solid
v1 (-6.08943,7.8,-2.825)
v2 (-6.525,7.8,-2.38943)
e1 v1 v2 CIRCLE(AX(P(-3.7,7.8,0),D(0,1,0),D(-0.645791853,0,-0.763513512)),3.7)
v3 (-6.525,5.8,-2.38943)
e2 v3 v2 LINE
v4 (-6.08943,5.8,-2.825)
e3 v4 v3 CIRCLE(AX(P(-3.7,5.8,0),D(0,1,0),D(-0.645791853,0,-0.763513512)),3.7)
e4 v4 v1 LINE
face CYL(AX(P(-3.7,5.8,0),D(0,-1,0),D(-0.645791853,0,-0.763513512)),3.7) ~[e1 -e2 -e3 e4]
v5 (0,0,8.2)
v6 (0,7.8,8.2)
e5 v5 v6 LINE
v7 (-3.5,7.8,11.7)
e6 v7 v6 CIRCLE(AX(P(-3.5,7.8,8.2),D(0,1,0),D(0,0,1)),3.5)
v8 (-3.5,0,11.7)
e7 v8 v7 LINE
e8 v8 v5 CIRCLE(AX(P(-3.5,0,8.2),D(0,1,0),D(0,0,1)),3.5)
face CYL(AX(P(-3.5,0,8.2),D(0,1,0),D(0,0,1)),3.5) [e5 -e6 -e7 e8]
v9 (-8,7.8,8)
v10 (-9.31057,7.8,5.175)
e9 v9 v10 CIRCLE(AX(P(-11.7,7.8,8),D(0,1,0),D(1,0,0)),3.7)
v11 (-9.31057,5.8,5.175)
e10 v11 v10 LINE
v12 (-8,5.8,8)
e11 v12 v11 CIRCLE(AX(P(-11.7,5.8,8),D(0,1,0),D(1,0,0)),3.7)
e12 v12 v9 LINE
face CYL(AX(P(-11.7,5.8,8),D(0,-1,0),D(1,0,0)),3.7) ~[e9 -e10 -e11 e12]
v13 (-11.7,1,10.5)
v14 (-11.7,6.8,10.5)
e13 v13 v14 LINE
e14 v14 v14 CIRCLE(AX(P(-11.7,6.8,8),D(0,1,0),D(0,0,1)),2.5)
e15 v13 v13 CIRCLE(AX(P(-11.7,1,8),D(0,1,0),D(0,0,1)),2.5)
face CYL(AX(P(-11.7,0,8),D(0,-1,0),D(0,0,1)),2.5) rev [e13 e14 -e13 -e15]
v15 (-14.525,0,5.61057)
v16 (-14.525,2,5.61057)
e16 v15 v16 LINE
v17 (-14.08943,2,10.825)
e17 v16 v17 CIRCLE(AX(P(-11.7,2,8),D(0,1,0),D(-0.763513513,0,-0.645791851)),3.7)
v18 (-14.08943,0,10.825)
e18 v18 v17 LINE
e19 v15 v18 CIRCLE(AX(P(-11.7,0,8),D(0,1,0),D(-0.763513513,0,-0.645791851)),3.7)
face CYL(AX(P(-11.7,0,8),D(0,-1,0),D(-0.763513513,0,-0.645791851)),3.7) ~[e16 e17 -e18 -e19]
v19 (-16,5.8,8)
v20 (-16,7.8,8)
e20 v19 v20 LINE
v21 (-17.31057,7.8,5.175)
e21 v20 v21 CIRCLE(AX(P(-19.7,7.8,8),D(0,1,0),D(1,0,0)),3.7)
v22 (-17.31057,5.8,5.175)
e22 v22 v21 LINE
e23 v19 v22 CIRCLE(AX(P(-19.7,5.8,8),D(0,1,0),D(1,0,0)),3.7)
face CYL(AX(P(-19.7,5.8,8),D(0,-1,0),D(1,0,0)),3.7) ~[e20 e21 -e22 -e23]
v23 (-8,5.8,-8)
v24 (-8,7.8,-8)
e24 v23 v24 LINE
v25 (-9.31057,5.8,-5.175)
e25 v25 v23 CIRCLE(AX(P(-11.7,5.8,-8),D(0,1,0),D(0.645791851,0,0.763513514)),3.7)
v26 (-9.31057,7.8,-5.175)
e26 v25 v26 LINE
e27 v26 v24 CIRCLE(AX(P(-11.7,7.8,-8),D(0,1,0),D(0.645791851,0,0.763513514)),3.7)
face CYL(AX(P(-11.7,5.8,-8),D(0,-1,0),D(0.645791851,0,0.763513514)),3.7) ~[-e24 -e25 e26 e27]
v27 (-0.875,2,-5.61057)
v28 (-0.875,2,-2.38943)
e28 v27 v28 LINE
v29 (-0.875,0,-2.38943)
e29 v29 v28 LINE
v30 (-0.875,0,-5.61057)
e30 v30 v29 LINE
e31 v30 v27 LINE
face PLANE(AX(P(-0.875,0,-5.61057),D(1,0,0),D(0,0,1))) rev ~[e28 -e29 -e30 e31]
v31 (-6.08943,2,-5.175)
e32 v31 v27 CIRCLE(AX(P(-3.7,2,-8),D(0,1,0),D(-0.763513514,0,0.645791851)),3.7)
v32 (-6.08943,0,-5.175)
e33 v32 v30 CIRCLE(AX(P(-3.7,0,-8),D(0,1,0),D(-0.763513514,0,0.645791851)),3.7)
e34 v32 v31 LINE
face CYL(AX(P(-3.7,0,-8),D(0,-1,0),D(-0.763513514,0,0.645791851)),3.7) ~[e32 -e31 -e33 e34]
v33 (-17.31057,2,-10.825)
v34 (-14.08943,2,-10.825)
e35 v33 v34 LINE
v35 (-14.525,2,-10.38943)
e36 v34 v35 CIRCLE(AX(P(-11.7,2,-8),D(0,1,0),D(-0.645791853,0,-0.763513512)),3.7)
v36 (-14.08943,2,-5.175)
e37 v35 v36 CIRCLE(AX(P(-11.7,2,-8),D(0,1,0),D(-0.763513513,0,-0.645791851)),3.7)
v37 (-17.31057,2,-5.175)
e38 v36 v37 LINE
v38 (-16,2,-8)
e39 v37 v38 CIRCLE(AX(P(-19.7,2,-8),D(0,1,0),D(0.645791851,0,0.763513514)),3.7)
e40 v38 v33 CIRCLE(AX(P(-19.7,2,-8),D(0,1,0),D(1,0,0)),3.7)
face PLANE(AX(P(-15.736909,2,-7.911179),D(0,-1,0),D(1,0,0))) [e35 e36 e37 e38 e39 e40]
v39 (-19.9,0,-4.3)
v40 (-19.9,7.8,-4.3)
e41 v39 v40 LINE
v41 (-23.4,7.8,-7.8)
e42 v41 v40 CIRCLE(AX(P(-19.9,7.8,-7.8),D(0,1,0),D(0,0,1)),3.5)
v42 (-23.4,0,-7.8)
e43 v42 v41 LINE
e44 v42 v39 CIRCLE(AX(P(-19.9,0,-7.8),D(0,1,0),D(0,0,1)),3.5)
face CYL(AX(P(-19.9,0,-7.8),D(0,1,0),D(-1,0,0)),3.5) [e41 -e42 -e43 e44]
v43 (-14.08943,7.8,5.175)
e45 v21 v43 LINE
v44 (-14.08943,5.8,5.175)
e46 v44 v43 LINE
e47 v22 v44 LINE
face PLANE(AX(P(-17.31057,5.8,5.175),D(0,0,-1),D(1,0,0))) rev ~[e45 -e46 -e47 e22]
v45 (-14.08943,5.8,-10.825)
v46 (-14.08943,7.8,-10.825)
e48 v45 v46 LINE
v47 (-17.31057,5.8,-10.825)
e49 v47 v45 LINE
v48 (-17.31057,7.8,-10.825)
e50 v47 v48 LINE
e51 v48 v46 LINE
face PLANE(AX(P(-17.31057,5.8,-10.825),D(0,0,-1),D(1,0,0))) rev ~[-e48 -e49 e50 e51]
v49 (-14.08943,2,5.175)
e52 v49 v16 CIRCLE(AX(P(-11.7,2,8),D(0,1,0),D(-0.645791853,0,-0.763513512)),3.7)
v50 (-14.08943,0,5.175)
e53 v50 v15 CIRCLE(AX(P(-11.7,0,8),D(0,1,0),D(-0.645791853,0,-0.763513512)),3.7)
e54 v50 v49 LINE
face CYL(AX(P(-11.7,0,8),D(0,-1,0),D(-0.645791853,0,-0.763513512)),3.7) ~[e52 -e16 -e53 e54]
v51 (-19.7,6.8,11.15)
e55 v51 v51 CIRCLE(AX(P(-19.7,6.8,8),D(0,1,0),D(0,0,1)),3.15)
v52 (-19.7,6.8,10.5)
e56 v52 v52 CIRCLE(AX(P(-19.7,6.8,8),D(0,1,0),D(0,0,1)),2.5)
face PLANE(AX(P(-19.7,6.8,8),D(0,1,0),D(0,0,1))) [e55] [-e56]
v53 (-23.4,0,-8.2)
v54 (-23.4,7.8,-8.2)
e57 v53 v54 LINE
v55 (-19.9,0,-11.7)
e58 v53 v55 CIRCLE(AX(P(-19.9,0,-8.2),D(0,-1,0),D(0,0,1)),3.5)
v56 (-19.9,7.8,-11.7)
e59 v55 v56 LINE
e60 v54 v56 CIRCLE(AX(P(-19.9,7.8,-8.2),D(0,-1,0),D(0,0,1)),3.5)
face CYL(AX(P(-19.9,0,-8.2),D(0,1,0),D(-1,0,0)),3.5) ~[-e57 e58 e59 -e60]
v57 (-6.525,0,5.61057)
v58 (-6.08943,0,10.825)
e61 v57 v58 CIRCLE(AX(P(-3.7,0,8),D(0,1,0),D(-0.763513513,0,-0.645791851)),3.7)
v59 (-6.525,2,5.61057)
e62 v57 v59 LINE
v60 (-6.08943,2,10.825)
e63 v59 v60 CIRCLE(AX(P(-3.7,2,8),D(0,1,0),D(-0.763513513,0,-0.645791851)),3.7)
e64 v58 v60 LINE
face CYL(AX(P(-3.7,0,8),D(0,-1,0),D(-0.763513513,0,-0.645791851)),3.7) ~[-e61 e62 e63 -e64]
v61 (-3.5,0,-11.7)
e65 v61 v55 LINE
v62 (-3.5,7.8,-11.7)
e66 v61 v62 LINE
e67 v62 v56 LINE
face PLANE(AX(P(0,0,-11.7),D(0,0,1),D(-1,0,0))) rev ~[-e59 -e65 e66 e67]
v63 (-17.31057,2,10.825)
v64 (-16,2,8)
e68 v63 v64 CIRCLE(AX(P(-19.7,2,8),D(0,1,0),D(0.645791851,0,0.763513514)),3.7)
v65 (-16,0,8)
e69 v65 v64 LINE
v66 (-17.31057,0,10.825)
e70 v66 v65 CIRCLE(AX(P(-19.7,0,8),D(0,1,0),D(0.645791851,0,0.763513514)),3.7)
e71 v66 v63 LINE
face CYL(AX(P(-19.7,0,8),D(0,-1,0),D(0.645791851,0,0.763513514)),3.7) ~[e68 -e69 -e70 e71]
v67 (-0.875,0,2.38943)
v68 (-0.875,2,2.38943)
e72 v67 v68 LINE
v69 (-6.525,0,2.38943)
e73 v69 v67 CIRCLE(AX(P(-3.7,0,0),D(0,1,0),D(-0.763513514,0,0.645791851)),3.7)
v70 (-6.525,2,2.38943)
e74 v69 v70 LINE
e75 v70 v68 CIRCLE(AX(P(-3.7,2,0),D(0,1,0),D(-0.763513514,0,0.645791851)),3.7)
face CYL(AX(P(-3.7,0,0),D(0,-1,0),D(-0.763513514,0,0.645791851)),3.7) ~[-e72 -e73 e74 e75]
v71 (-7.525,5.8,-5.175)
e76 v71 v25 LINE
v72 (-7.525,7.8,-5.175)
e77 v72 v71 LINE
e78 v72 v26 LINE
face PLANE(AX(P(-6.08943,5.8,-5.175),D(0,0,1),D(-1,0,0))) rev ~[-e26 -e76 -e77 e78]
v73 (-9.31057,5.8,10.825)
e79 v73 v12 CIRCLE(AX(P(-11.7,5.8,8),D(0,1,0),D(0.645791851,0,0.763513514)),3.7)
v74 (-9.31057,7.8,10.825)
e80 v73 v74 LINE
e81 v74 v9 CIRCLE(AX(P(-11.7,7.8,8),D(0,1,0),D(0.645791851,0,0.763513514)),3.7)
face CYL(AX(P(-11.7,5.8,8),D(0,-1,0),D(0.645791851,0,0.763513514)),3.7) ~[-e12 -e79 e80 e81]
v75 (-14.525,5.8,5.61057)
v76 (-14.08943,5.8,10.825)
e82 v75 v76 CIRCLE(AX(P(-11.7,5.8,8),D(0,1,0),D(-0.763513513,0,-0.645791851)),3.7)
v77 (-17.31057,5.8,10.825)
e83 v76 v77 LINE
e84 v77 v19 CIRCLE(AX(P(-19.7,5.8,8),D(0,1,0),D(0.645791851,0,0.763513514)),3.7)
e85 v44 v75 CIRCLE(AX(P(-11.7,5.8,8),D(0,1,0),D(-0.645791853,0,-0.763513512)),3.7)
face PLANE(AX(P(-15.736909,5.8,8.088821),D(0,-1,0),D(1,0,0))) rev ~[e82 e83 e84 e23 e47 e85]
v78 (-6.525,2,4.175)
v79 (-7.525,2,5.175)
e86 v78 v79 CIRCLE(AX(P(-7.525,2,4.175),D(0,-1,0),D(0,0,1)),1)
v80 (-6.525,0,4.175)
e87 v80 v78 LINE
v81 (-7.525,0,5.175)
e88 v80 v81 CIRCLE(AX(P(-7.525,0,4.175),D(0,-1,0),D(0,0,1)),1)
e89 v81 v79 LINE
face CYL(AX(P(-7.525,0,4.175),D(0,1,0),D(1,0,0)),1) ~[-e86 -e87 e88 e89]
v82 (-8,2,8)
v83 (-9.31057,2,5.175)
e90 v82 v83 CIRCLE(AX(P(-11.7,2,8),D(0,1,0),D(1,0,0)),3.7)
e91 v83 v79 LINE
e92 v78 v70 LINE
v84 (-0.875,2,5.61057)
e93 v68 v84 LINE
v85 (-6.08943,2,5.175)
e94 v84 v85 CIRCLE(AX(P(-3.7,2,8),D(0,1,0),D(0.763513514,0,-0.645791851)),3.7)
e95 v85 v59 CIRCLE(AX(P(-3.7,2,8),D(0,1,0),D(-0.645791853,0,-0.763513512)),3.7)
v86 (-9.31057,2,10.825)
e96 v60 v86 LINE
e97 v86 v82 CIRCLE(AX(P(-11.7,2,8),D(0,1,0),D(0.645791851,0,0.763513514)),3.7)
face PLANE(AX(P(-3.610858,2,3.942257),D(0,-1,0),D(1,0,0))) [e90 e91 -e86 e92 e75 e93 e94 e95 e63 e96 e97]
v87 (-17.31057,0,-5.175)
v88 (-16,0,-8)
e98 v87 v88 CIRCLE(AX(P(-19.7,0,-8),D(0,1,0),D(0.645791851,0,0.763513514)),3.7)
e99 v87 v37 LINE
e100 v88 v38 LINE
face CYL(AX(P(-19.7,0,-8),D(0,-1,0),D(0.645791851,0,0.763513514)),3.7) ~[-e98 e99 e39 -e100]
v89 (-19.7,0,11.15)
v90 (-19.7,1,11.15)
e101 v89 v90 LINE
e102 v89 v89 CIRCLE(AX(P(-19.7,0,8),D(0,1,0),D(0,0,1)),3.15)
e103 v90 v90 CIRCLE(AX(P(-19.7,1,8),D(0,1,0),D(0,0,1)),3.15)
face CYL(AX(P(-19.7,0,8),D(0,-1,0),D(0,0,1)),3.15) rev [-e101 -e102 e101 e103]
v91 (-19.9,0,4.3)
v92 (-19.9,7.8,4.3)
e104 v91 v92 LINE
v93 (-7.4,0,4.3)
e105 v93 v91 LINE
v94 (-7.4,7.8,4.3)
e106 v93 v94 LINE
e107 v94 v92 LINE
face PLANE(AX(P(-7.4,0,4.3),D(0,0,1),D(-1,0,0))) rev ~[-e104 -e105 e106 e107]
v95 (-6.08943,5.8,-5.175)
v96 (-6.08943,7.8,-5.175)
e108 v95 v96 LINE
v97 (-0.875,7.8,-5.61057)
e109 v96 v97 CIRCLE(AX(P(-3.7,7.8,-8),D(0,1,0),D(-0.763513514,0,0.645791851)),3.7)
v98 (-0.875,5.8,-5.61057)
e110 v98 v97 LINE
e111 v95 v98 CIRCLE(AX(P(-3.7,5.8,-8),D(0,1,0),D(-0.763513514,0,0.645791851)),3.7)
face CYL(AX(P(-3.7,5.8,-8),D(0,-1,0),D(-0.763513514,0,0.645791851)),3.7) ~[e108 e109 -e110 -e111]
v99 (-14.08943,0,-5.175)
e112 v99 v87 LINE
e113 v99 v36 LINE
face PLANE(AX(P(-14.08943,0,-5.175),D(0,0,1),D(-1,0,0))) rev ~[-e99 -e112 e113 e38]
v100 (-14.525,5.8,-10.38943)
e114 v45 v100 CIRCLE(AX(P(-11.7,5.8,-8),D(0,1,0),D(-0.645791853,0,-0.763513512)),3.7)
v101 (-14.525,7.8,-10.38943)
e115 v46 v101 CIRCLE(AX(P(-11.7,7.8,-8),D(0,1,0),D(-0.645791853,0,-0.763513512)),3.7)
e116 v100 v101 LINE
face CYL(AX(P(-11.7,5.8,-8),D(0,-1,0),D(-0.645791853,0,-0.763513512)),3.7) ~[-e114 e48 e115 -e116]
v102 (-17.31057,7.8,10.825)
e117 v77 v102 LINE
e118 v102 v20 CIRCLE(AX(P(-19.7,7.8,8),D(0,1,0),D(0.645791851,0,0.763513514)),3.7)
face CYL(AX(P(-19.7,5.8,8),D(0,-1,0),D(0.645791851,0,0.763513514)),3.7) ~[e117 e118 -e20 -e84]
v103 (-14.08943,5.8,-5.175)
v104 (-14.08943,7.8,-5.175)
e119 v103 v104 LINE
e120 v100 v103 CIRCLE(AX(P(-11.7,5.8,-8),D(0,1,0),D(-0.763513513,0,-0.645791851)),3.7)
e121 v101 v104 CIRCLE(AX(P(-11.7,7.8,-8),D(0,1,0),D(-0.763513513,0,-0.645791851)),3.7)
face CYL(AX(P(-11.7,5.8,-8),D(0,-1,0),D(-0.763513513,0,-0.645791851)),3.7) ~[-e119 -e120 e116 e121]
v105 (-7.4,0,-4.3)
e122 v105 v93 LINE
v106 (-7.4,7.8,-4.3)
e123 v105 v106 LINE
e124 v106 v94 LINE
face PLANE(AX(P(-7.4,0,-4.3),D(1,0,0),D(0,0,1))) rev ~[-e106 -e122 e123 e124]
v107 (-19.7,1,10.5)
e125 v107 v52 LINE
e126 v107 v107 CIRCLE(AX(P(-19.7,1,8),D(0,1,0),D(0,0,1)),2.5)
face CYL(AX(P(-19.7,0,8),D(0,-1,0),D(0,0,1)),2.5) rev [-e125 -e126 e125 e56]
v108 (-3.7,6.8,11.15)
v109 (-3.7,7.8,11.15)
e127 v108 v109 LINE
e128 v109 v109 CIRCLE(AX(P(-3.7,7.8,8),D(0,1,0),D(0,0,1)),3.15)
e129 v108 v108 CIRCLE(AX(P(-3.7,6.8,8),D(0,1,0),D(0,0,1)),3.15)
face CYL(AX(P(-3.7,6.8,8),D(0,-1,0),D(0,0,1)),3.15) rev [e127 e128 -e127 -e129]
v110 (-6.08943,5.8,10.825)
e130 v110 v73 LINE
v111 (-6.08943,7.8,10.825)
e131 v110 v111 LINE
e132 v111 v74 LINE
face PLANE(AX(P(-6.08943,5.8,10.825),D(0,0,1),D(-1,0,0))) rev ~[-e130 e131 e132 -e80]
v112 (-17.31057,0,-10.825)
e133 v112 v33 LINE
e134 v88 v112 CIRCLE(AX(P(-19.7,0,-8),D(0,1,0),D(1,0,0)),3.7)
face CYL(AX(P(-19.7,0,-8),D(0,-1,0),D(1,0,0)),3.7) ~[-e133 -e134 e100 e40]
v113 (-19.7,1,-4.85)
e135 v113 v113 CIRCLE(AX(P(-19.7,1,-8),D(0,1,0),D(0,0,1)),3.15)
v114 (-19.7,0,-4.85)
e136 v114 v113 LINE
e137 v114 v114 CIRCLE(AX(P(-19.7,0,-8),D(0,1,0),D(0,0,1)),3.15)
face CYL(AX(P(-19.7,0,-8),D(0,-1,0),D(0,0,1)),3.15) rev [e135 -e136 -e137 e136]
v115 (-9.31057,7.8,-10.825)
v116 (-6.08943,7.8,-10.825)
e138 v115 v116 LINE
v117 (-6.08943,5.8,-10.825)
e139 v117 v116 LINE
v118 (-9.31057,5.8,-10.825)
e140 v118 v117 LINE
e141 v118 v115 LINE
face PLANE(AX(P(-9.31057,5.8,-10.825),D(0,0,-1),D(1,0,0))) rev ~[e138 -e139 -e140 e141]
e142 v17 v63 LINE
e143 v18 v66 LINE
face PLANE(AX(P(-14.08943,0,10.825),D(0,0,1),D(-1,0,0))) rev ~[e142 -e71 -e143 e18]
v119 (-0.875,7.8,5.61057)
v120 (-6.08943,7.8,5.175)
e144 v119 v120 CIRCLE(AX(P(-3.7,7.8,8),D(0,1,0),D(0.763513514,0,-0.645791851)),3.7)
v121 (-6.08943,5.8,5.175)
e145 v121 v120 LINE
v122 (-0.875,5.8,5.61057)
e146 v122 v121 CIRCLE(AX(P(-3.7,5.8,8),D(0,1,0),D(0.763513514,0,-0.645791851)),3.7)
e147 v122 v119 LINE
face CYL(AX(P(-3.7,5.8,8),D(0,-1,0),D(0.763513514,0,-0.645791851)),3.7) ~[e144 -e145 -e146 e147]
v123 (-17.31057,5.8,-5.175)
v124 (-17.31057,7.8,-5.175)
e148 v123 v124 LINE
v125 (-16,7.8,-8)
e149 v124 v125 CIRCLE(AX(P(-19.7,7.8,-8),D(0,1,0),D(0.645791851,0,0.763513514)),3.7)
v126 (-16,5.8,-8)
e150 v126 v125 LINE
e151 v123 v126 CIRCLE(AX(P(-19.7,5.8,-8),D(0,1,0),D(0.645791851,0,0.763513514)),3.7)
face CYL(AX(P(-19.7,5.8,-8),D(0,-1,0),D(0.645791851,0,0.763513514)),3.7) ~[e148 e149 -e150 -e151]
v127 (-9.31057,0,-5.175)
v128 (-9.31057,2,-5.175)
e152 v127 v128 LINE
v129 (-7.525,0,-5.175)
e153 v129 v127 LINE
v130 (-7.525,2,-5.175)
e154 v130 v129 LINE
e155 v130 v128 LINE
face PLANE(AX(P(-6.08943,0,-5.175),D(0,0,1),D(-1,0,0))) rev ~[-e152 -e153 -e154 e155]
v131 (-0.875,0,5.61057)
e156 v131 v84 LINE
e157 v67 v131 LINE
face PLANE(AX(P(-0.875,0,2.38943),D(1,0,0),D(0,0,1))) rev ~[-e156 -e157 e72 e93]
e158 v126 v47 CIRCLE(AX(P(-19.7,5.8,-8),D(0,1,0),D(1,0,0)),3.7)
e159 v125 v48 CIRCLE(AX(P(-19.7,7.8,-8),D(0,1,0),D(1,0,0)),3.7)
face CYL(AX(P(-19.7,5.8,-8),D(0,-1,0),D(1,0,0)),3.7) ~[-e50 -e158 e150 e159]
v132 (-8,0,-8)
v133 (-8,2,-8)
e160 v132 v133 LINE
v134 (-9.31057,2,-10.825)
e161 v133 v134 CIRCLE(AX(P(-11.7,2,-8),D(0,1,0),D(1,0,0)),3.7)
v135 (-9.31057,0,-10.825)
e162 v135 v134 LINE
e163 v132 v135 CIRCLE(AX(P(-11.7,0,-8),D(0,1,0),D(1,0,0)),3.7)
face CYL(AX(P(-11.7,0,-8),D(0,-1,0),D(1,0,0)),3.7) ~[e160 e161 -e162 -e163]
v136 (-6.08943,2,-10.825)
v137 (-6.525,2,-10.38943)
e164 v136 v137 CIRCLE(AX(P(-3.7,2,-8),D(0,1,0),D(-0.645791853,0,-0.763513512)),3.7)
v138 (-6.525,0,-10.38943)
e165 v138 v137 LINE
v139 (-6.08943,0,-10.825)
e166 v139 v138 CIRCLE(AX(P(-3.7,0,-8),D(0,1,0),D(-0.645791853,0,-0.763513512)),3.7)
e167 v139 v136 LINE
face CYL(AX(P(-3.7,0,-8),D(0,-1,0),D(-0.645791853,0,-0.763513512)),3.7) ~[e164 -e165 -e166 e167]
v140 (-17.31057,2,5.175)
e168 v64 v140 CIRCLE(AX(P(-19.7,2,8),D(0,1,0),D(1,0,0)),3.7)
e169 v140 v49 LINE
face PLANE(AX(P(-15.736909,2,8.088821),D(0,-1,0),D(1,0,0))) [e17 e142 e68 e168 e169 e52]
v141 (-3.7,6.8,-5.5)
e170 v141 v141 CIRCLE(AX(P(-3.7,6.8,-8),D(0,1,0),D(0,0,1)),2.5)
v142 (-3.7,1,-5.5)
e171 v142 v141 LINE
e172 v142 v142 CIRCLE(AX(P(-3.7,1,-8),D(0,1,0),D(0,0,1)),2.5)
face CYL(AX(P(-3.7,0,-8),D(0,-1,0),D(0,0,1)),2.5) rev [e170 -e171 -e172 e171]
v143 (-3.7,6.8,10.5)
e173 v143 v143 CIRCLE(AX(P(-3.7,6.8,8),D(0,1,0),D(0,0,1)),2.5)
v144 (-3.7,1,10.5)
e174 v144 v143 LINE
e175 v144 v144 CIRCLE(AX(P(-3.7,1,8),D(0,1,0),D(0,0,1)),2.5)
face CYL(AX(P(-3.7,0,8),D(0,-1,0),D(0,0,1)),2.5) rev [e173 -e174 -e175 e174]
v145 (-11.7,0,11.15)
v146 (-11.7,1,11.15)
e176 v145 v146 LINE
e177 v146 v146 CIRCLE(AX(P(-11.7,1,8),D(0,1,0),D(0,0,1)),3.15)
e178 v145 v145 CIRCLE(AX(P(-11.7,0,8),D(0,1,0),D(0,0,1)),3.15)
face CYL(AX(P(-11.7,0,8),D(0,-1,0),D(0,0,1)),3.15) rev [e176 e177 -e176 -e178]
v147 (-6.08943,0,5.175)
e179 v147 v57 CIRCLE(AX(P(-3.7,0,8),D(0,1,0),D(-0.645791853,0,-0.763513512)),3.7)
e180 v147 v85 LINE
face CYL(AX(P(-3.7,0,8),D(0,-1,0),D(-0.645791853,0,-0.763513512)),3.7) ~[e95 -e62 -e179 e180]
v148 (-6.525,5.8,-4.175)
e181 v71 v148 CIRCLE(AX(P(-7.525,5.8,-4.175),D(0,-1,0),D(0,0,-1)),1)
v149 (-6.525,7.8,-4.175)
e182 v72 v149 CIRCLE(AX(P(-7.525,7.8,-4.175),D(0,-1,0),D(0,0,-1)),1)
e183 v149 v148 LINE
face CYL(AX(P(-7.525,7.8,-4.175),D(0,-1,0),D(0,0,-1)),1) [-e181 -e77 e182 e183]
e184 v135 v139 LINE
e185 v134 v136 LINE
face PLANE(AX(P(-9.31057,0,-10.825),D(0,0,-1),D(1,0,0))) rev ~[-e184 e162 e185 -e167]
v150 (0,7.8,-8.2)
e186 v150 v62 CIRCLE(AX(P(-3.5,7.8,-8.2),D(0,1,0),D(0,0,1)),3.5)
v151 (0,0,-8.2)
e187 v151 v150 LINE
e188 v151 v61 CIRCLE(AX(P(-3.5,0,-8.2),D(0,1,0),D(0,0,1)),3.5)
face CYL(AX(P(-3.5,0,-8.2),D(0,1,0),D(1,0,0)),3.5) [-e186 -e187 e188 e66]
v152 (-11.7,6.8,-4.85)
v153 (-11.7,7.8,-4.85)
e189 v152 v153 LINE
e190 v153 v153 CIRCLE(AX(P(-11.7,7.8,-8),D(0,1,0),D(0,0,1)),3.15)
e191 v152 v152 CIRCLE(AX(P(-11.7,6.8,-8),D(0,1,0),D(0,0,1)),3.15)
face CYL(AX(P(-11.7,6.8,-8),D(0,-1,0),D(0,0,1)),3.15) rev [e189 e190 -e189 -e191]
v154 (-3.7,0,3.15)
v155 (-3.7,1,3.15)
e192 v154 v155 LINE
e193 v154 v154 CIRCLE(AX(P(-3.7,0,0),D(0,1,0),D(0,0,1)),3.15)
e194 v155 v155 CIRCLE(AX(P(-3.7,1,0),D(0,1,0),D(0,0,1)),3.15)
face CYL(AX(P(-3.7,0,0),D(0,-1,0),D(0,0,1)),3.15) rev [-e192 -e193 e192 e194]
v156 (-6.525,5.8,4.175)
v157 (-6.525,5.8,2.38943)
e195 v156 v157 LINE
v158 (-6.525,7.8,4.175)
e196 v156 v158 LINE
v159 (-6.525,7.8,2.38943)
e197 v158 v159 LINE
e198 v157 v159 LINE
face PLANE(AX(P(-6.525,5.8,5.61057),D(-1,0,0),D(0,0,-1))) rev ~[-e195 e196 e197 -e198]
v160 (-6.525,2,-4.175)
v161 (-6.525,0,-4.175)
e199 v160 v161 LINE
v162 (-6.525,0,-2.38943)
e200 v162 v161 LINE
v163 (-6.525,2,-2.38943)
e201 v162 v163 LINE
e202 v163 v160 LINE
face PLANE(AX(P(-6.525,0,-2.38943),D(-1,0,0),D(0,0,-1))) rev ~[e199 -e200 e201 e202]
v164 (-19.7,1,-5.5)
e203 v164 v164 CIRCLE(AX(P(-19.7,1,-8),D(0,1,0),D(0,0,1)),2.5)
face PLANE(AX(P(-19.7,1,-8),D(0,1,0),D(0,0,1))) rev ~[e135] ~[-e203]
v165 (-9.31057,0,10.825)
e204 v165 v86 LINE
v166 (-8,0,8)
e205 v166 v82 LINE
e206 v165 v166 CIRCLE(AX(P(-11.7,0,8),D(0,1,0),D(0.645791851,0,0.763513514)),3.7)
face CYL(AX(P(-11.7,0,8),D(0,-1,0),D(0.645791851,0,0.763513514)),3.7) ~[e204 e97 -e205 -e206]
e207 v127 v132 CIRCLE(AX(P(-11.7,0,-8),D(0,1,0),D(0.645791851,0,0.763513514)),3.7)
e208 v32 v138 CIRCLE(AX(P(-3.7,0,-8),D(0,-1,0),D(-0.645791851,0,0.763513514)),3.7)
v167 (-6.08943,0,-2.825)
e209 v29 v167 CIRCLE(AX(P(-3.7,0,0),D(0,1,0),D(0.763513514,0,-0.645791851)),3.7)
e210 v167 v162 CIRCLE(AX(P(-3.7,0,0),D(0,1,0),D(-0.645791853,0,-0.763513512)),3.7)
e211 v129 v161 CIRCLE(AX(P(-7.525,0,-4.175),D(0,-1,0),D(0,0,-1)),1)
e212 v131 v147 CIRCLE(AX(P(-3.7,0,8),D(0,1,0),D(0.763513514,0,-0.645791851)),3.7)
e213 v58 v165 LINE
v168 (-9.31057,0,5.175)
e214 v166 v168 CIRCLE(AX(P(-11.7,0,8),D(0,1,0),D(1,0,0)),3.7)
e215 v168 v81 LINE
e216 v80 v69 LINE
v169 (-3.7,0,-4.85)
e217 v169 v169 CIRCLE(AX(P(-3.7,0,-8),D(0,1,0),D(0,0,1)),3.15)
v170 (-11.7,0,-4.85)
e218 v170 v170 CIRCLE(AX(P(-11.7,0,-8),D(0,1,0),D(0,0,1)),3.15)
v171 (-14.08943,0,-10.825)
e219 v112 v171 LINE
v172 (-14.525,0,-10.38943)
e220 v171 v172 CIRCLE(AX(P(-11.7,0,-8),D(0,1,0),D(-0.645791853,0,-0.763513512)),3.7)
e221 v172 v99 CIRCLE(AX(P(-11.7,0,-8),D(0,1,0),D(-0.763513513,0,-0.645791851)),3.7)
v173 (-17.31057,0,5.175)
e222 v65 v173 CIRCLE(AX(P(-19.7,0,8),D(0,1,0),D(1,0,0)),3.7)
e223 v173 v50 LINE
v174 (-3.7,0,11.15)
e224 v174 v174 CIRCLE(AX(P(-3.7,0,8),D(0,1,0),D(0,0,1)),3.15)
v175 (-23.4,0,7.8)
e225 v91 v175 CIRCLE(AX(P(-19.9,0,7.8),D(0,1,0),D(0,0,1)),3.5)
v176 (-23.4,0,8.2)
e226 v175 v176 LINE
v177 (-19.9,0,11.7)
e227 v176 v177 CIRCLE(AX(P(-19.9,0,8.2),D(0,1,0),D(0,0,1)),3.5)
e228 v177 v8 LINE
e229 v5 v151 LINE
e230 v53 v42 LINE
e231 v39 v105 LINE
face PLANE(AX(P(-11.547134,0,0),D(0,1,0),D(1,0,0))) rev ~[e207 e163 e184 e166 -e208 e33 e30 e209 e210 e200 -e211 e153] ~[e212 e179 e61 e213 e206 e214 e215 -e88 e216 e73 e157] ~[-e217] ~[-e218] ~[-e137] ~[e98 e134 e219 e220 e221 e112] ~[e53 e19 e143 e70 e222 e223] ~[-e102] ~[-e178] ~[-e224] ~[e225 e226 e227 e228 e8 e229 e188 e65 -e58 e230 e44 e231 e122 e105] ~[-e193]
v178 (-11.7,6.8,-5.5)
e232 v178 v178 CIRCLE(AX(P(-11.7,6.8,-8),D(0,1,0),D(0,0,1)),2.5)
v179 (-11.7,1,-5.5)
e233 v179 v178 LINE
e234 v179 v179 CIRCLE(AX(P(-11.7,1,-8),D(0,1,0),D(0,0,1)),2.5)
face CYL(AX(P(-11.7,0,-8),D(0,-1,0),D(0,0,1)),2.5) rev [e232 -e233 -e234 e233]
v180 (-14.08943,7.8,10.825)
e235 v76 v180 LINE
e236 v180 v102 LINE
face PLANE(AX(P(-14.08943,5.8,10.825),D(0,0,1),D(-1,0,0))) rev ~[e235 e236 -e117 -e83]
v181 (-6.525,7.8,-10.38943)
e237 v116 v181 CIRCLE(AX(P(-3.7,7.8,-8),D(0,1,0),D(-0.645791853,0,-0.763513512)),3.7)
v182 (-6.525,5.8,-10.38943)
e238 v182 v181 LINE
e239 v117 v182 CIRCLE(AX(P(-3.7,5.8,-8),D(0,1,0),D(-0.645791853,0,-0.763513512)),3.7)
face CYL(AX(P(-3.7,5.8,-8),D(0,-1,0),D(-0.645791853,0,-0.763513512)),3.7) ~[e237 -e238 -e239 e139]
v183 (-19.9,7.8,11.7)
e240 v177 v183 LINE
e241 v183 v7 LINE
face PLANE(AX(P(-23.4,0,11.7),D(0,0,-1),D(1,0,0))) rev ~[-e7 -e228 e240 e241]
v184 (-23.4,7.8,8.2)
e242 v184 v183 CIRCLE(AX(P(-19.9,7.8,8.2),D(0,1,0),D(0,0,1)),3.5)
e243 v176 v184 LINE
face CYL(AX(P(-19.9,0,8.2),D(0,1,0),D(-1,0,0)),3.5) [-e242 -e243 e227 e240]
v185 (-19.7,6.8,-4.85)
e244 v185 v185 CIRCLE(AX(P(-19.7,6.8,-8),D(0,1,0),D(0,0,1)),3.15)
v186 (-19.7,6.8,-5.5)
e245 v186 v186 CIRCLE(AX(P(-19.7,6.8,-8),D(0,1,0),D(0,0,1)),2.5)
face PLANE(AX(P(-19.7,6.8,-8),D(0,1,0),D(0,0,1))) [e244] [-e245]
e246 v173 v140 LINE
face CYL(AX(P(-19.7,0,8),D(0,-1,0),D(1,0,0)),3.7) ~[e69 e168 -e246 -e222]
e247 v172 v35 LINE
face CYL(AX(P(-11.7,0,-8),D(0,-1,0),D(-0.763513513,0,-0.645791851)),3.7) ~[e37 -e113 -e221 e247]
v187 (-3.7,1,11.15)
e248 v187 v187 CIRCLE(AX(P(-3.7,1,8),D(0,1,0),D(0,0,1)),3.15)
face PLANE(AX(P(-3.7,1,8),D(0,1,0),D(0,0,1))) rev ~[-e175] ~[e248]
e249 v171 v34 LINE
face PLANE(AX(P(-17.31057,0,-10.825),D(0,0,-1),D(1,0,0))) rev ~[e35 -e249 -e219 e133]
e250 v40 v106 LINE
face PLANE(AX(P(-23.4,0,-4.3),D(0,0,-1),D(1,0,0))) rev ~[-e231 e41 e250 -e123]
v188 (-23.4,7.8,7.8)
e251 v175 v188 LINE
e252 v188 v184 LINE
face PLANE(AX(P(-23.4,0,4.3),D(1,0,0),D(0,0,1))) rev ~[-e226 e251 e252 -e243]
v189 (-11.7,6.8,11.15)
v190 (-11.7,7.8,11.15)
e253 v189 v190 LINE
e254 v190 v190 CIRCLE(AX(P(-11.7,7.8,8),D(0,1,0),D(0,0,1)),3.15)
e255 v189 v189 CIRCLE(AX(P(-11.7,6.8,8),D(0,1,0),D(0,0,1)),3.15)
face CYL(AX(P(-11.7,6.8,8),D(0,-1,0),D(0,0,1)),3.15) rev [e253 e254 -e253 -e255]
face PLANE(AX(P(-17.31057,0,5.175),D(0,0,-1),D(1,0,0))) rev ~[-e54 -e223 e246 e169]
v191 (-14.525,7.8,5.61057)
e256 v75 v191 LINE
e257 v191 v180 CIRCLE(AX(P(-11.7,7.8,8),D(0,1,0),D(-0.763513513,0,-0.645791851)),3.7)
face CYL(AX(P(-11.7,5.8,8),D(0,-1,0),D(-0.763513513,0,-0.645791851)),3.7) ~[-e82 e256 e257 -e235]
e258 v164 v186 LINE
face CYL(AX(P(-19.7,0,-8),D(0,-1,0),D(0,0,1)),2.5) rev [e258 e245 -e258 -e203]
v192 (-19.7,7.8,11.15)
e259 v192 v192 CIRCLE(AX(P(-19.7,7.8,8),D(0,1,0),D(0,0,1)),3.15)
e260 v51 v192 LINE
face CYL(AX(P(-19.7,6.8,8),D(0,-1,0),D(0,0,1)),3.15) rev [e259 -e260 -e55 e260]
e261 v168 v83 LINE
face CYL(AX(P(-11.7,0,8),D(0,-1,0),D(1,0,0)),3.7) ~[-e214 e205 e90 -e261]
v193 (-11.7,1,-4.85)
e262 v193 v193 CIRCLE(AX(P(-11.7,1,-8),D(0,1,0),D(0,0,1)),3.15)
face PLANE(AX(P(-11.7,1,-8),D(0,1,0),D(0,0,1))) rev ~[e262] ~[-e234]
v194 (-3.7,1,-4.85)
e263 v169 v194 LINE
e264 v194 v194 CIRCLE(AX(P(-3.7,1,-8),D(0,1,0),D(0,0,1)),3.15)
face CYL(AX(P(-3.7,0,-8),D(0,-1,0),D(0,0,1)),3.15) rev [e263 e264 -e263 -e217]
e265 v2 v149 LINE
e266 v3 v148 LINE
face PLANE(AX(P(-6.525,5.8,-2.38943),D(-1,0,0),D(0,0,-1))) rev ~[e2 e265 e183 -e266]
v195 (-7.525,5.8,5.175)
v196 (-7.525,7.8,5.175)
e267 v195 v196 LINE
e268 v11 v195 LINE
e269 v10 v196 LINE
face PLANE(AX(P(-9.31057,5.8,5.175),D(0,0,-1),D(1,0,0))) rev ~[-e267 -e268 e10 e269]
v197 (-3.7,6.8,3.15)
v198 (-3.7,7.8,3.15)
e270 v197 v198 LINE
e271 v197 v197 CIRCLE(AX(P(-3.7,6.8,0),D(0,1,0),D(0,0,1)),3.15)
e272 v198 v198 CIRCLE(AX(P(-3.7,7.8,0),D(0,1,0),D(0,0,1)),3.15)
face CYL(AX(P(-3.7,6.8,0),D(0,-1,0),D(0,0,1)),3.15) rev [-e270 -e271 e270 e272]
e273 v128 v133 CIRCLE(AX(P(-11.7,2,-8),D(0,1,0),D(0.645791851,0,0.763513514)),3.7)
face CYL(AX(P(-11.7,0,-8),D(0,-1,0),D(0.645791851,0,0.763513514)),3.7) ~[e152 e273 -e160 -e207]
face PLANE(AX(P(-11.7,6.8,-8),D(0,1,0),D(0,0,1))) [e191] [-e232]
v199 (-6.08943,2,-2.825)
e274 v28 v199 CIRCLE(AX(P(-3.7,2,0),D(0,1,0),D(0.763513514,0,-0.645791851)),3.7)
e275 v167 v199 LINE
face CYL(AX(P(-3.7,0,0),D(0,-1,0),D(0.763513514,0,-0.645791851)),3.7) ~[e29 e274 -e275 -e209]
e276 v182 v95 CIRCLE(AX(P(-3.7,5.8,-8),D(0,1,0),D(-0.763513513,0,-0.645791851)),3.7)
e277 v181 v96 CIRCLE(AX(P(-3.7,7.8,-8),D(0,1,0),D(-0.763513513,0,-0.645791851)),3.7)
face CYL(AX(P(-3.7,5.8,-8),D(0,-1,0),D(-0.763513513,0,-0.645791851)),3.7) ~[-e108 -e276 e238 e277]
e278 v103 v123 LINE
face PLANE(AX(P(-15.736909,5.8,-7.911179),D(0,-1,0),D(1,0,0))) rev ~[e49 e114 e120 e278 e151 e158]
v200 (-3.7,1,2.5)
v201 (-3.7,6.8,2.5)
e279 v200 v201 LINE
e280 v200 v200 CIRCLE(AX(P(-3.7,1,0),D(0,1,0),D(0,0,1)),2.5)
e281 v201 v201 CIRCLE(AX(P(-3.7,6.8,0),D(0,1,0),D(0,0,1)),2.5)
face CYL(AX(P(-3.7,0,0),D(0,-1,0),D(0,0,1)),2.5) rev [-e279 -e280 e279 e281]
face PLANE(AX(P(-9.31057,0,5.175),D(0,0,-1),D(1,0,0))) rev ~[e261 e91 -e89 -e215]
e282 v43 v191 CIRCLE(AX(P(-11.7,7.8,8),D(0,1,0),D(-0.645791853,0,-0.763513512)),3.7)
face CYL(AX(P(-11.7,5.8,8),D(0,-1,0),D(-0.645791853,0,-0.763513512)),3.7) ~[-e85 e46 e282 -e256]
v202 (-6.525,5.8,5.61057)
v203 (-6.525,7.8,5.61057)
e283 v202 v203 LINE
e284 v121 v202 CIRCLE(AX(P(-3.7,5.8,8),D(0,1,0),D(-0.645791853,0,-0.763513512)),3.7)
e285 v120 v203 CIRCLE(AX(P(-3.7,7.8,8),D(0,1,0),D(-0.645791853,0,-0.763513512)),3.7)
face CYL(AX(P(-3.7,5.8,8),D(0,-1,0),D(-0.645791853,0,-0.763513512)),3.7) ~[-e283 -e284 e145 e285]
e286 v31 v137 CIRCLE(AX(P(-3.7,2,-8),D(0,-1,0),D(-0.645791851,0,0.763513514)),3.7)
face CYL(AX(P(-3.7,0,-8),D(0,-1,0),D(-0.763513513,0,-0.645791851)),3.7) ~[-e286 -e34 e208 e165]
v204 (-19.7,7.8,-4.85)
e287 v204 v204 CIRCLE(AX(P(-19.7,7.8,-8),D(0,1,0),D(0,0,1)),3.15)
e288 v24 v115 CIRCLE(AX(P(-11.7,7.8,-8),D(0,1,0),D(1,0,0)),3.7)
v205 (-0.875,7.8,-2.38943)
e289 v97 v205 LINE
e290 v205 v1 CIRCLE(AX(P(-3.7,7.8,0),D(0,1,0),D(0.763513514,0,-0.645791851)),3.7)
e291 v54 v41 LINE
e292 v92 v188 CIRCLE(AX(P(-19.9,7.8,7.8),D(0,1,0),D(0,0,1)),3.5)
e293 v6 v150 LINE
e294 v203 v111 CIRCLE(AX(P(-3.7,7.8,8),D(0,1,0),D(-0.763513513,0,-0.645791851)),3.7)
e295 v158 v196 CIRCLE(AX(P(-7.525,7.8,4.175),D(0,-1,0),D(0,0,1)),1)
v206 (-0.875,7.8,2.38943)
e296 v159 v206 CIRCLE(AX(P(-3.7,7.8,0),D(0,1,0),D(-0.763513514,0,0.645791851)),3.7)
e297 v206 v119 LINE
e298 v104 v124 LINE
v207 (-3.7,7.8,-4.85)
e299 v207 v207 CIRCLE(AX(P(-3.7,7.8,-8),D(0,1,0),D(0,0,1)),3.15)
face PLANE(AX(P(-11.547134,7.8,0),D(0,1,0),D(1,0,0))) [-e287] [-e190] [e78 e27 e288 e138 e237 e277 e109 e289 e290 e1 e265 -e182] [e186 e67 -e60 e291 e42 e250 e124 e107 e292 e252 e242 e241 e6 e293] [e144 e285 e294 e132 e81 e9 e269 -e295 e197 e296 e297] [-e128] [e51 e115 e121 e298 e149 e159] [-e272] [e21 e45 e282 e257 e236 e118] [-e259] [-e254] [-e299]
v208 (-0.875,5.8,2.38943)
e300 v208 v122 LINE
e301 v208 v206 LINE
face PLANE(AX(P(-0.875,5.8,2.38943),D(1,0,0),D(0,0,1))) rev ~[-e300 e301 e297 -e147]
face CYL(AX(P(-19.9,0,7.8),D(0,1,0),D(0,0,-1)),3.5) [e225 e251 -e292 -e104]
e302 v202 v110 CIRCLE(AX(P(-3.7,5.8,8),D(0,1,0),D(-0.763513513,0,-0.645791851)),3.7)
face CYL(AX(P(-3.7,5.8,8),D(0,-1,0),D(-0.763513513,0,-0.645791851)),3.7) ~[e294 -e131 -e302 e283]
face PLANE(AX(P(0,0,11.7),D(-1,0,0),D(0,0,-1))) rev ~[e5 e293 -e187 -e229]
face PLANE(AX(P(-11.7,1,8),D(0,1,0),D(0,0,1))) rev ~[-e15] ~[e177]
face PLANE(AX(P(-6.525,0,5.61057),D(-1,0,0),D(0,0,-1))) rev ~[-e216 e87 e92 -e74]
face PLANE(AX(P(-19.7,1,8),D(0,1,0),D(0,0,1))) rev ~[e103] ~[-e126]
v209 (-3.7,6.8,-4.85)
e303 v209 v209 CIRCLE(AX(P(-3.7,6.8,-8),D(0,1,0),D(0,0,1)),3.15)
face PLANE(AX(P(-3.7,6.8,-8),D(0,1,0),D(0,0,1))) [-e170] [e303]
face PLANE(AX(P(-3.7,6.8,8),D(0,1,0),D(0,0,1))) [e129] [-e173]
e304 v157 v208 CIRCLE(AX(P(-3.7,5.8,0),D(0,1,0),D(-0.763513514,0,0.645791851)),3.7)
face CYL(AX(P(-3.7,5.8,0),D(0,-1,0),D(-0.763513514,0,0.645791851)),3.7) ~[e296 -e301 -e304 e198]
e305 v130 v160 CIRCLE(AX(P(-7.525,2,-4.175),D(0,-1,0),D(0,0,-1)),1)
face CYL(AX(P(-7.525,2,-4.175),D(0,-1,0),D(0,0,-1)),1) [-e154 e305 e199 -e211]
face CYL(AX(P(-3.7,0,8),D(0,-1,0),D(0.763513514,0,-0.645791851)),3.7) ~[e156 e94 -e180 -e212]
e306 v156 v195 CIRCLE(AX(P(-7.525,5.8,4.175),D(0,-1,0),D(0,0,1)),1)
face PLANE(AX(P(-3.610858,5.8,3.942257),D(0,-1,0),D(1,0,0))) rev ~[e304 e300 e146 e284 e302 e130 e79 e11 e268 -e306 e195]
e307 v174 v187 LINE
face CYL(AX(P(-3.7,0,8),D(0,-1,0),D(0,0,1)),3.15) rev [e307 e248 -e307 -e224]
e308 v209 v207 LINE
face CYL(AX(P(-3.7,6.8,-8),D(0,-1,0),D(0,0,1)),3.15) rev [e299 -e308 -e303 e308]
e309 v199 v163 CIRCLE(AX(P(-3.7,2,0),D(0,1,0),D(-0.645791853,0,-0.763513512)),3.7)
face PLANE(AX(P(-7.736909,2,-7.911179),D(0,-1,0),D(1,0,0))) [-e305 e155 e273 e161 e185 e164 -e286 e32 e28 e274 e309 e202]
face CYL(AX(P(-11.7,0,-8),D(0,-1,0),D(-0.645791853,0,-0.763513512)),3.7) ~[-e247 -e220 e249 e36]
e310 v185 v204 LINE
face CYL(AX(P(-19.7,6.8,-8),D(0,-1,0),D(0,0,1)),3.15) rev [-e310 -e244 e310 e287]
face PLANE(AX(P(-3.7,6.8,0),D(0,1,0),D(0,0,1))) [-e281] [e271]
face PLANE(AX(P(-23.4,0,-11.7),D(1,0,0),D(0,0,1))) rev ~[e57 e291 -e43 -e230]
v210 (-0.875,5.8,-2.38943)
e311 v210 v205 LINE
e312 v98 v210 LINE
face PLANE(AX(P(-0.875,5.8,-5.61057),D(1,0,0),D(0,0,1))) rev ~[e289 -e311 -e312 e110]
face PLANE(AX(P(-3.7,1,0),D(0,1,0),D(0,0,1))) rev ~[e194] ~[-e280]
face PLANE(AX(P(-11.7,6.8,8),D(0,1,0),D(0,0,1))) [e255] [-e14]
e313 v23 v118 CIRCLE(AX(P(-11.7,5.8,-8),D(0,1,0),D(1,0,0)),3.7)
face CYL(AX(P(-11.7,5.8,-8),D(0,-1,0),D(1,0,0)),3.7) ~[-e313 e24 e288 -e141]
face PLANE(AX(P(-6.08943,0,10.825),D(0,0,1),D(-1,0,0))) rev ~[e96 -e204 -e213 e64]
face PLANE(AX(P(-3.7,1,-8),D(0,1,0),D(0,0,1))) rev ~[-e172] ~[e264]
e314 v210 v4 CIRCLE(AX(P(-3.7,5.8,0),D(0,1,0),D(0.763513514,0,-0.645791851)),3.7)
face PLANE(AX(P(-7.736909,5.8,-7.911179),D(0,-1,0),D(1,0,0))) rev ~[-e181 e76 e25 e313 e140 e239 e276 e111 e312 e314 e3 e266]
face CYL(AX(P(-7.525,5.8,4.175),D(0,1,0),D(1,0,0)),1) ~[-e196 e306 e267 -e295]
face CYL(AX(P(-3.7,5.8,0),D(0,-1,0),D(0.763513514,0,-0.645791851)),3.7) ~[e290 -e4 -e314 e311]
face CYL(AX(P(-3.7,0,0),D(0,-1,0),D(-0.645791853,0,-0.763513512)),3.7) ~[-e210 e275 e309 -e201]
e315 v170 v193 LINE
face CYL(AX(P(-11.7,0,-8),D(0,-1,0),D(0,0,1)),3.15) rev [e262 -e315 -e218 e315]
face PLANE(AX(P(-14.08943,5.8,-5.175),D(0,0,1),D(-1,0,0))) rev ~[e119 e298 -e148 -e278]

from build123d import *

# Parameters (mm, degrees)
EXTRUDE_1_DEPTH                    = 7.8
CUT_EXTRUDE_1_REACH                = 29.3
SKETCH_1_3_R                       = 2.5
SKETCH_1_4_R                       = 3.15
SKETCH_1_4_R_2                     = 2.5
CUT_EXTRUDE_2_DEPTH                = 1
CUT_EXTRUDE_START                  = 6.8
SKETCH_1_5_R                       = 3.15
SKETCH_1_5_R_2                     = 2.5
CUT_EXTRUDE_3_DEPTH                = 1
PATTERN_LINEAR_3_COUNT             = 3
PATTERN_LINEAR_3_PITCH             = 8
PATTERN_LINEAR_4_COUNT             = 3
PATTERN_LINEAR_4_PITCH             = 8
PATTERN_LINEAR_5_COPY_1_REACH      = 29.3
PATTERN_LINEAR_5_COPY_1_SKETCH_R   = 2.5
PATTERN_LINEAR_5_COPY_2_REACH      = 29.3
PATTERN_LINEAR_5_COPY_2_SKETCH_R   = 2.5
PATTERN_LINEAR_5_COPY_3_SKETCH_R   = 3.15
PATTERN_LINEAR_5_COPY_3_SKETCH_R_2 = 2.5
PATTERN_LINEAR_5_COPY_3_DEPTH      = 1
PATTERN_LINEAR_5_COPY_4_SKETCH_R   = 3.15
PATTERN_LINEAR_5_COPY_4_SKETCH_R_2 = 2.5
PATTERN_LINEAR_5_COPY_4_DEPTH      = 1
PATTERN_START                      = 6.8
PATTERN_LINEAR_5_COPY_5_SKETCH_R   = 3.15
PATTERN_LINEAR_5_COPY_5_SKETCH_R_2 = 2.5
PATTERN_LINEAR_5_COPY_5_DEPTH      = 1
PATTERN_LINEAR_5_COPY_6_SKETCH_R   = 3.15
PATTERN_LINEAR_5_COPY_6_SKETCH_R_2 = 2.5
PATTERN_LINEAR_5_COPY_6_DEPTH      = 1
CUT_EXTRUDE_4_DEPTH                = 2
CUT_EXTRUDE_START_2                = -5.8
CUT_EXTRUDE_5_DEPTH                = 2
PATTERN_LINEAR_6_COUNT             = 2
PATTERN_LINEAR_6_PITCH             = 16
CUT_EXTRUDE_6_DEPTH                = 2
CUT_EXTRUDE_7_DEPTH                = 2
PATTERN_LINEAR_7_COUNT             = 2
PATTERN_LINEAR_7_PITCH             = 8
FILLET_2_R                         = 1
FILLET_3_R                         = 3.5
PATTERN_LINEAR_8_COUNT             = 2
PATTERN_LINEAR_8_PITCH             = 8
PATTERN_LINEAR_8_COPY_1_DEPTH      = 2
PATTERN_START_2                    = -5.8
PATTERN_LINEAR_8_COPY_2_DEPTH      = 2


with BuildPart() as part:
    # 草图1 → 凸台-拉伸1 (new body)
    with BuildSketch(Plane(origin=(0, 0, 0), x_dir=(1, 0, 0), z_dir=(0, 1, 0))):
        Polygon((-23.4, 11.7), (-23.4, 4.3), (-7.4, 4.3), (-7.4, -4.3), (-23.4, -4.3), (-23.4, -11.7), (0, -11.7), (0, 11.7), align=None)
    extrude(amount=EXTRUDE_1_DEPTH)

    # 草图1<3> → 切除-拉伸1 (cut, up to next)
    with BuildSketch(Plane(origin=(0, 0, 0), x_dir=(1, 0, 0), z_dir=(0, 1, 0)), mode=Mode.PRIVATE) as cut_extrude_1_sk1:
        with Locations(Location((-3.7, 8, 0), (0, 0, 270))):
            Circle(SKETCH_1_3_R)
    cut_extrude_1_tool1 = extrude(cut_extrude_1_sk1.sketch, amount=CUT_EXTRUDE_1_REACH, mode=Mode.PRIVATE) & part.part
    cut_extrude_1 = cut_extrude_1_tool1.solids().sort_by_distance((-3.7, 0, -8))[0]
    add(cut_extrude_1, mode=Mode.SUBTRACT)

    # 草图1<4> → 切除-拉伸2 (cut)
    with BuildSketch(Plane(origin=(0, 0, 0), x_dir=(1, 0, 0), z_dir=(0, 1, 0))):
        with Locations(Location((-3.7, 8, 0), (0, 0, 270))):
            Circle(SKETCH_1_4_R)
        with Locations(Location((-3.7, 8, 0), (0, 0, 270))):
            Circle(SKETCH_1_4_R_2, mode=Mode.SUBTRACT)
    cut_extrude_2 = extrude(amount=CUT_EXTRUDE_2_DEPTH, mode=Mode.SUBTRACT)

    # 草图1<5> → 切除-拉伸3 (cut)
    with BuildSketch(Plane(origin=(0, 0, 0), x_dir=(1, 0, 0), z_dir=(0, 1, 0)).offset(CUT_EXTRUDE_START)):
        with Locations(Location((-3.7, 8, 0), (0, 0, 270))):
            Circle(SKETCH_1_5_R)
        with Locations(Location((-3.7, 8, 0), (0, 0, 270))):
            Circle(SKETCH_1_5_R_2, mode=Mode.SUBTRACT)
    cut_extrude_3 = extrude(amount=CUT_EXTRUDE_3_DEPTH, mode=Mode.SUBTRACT)

    # 阵列(线性)3: 切除-拉伸1, 切除-拉伸2, 切除-拉伸3 ×3
    with Locations(*[(-i * PATTERN_LINEAR_3_PITCH, 0, 0) for i in range(1, PATTERN_LINEAR_3_COUNT)]):
        add(cut_extrude_1, mode=Mode.SUBTRACT)
        add(cut_extrude_2, mode=Mode.SUBTRACT)
        add(cut_extrude_3, mode=Mode.SUBTRACT)

    # 阵列(线性)4: 切除-拉伸1, 切除-拉伸2, 切除-拉伸3 ×3
    with Locations(*[(0, 0, i * PATTERN_LINEAR_4_PITCH) for i in range(1, PATTERN_LINEAR_4_COUNT)]):
        add(cut_extrude_1, mode=Mode.SUBTRACT)
        add(cut_extrude_2, mode=Mode.SUBTRACT)
        add(cut_extrude_3, mode=Mode.SUBTRACT)

    # 阵列(线性)5 copy 1 sketch → 阵列(线性)5 copy 1 (cut, up to next)
    with BuildSketch(Plane(origin=(-8, 0, 16), x_dir=(1, 0, 0), z_dir=(0, 1, 0)), mode=Mode.PRIVATE) as pattern_linear_5_copy_1_sk1:
        with Locations(Location((-3.7, 8, 0), (0, 0, 270))):
            Circle(PATTERN_LINEAR_5_COPY_1_SKETCH_R)
    pattern_linear_5_copy_1_tool1 = extrude(pattern_linear_5_copy_1_sk1.sketch, amount=PATTERN_LINEAR_5_COPY_1_REACH, mode=Mode.PRIVATE) & part.part
    add(pattern_linear_5_copy_1_tool1.solids().sort_by_distance((-11.7, 0, 8))[0], mode=Mode.SUBTRACT)

    # 阵列(线性)5 copy 2 sketch → 阵列(线性)5 copy 2 (cut, up to next)
    with BuildSketch(Plane(origin=(-16, 0, 16), x_dir=(1, 0, 0), z_dir=(0, 1, 0)), mode=Mode.PRIVATE) as pattern_linear_5_copy_2_sk1:
        with Locations(Location((-3.7, 8, 0), (0, 0, 270))):
            Circle(PATTERN_LINEAR_5_COPY_2_SKETCH_R)
    pattern_linear_5_copy_2_tool1 = extrude(pattern_linear_5_copy_2_sk1.sketch, amount=PATTERN_LINEAR_5_COPY_2_REACH, mode=Mode.PRIVATE) & part.part
    add(pattern_linear_5_copy_2_tool1.solids().sort_by_distance((-19.7, 0, 8))[0], mode=Mode.SUBTRACT)

    # 阵列(线性)5 copy 3 sketch → 阵列(线性)5 copy 3 (cut)
    with BuildSketch(Plane(origin=(-8, 0, 16), x_dir=(1, 0, 0), z_dir=(0, 1, 0))):
        with Locations(Location((-3.7, 8, 0), (0, 0, 270))):
            Circle(PATTERN_LINEAR_5_COPY_3_SKETCH_R)
        with Locations(Location((-3.7, 8, 0), (0, 0, 270))):
            Circle(PATTERN_LINEAR_5_COPY_3_SKETCH_R_2, mode=Mode.SUBTRACT)
    extrude(amount=PATTERN_LINEAR_5_COPY_3_DEPTH, mode=Mode.SUBTRACT)

    # 阵列(线性)5 copy 4 sketch → 阵列(线性)5 copy 4 (cut)
    with BuildSketch(Plane(origin=(-16, 0, 16), x_dir=(1, 0, 0), z_dir=(0, 1, 0))):
        with Locations(Location((-3.7, 8, 0), (0, 0, 270))):
            Circle(PATTERN_LINEAR_5_COPY_4_SKETCH_R)
        with Locations(Location((-3.7, 8, 0), (0, 0, 270))):
            Circle(PATTERN_LINEAR_5_COPY_4_SKETCH_R_2, mode=Mode.SUBTRACT)
    extrude(amount=PATTERN_LINEAR_5_COPY_4_DEPTH, mode=Mode.SUBTRACT)

    # 阵列(线性)5 copy 5 sketch → 阵列(线性)5 copy 5 (cut)
    with BuildSketch(Plane(origin=(-8, 0, 16), x_dir=(1, 0, 0), z_dir=(0, 1, 0)).offset(PATTERN_START)):
        with Locations(Location((-3.7, 8, 0), (0, 0, 270))):
            Circle(PATTERN_LINEAR_5_COPY_5_SKETCH_R)
        with Locations(Location((-3.7, 8, 0), (0, 0, 270))):
            Circle(PATTERN_LINEAR_5_COPY_5_SKETCH_R_2, mode=Mode.SUBTRACT)
    extrude(amount=PATTERN_LINEAR_5_COPY_5_DEPTH, mode=Mode.SUBTRACT)

    # 阵列(线性)5 copy 6 sketch → 阵列(线性)5 copy 6 (cut)
    with BuildSketch(Plane(origin=(-16, 0, 16), x_dir=(1, 0, 0), z_dir=(0, 1, 0)).offset(PATTERN_START)):
        with Locations(Location((-3.7, 8, 0), (0, 0, 270))):
            Circle(PATTERN_LINEAR_5_COPY_6_SKETCH_R)
        with Locations(Location((-3.7, 8, 0), (0, 0, 270))):
            Circle(PATTERN_LINEAR_5_COPY_6_SKETCH_R_2, mode=Mode.SUBTRACT)
    extrude(amount=PATTERN_LINEAR_5_COPY_6_DEPTH, mode=Mode.SUBTRACT)

    # 草图3 → 切除-拉伸4 (cut)
    with BuildSketch(Plane.XZ):
        with BuildLine():
            ThreePointArc((-6.525, 5.610570152), (-7.387158706, 8.307994608), (-6.089429848, 10.825))
            Line((-6.089429848, 10.825), (-9.310570152, 10.825))
            ThreePointArc((-9.310570152, 10.825), (-8.343596386, 9.557098192), (-8, 8))
            ThreePointArc((-8, 8), (-8.343596386, 6.442901808), (-9.310570152, 5.175))
            Line((-9.310570152, 5.175), (-6.525, 5.175))
            Line((-6.525, 5.175), (-6.525, 5.610570152))
        make_face()
        with BuildLine():
            ThreePointArc((-6.089429848, 5.175), (-6.31629509, 5.38370491), (-6.525, 5.610570152))
            Line((-6.525, 5.610570152), (-6.525, 5.175))
            Line((-6.525, 5.175), (-6.089429848, 5.175))
        make_face()
    cut_extrude_4 = extrude(amount=-CUT_EXTRUDE_4_DEPTH, mode=Mode.SUBTRACT)

    # 草图3<3> → 切除-拉伸5 (cut)
    with BuildSketch(Plane.XZ.offset(CUT_EXTRUDE_START_2)):
        with BuildLine():
            ThreePointArc((-6.525, 5.610570152), (-7.387158706, 8.307994608), (-6.089429848, 10.825))
            Line((-6.089429848, 10.825), (-9.310570152, 10.825))
            ThreePointArc((-9.310570152, 10.825), (-8.343596386, 9.557098192), (-8, 8))
            ThreePointArc((-8, 8), (-8.343596386, 6.442901808), (-9.310570152, 5.175))
            Line((-9.310570152, 5.175), (-6.525, 5.175))
            Line((-6.525, 5.175), (-6.525, 5.610570152))
        make_face()
        with BuildLine():
            ThreePointArc((-6.089429848, 5.175), (-6.31629509, 5.38370491), (-6.525, 5.610570152))
            Line((-6.525, 5.610570152), (-6.525, 5.175))
            Line((-6.525, 5.175), (-6.089429848, 5.175))
        make_face()
    cut_extrude_5 = extrude(amount=-CUT_EXTRUDE_5_DEPTH, mode=Mode.SUBTRACT)

    # 阵列(线性)6: 切除-拉伸4, 切除-拉伸5 ×2
    with Locations(*[(0, 0, -i * PATTERN_LINEAR_6_PITCH) for i in range(1, PATTERN_LINEAR_6_COUNT)]):
        add(cut_extrude_4, mode=Mode.SUBTRACT)
        add(cut_extrude_5, mode=Mode.SUBTRACT)

    # 草图3<4> → 切除-拉伸6 (cut)
    with BuildSketch(Plane.XZ):
        with BuildLine():
            Line((-0.875, 2.389429848), (-0.875, 5.610570152))
            ThreePointArc((-0.875, 5.610570152), (-3.392005392, 4.312841294), (-6.089429848, 5.175))
            Line((-6.089429848, 5.175), (-6.525, 5.175))
            Line((-6.525, 5.175), (-6.525, 2.389429848))
            ThreePointArc((-6.525, 2.389429848), (-3.7, 3.7), (-0.875, 2.389429848))
        make_face()
        with BuildLine():
            ThreePointArc((-6.089429848, 5.175), (-6.31629509, 5.38370491), (-6.525, 5.610570152))
            Line((-6.525, 5.610570152), (-6.525, 5.175))
            Line((-6.525, 5.175), (-6.089429848, 5.175))
        make_face()
    cut_extrude_6 = extrude(amount=-CUT_EXTRUDE_6_DEPTH, mode=Mode.SUBTRACT)

    # 草图3<5> → 切除-拉伸7 (cut)
    with BuildSketch(Plane.XZ.offset(CUT_EXTRUDE_START_2)):
        with BuildLine():
            Line((-0.875, 2.389429848), (-0.875, 5.610570152))
            ThreePointArc((-0.875, 5.610570152), (-3.392005392, 4.312841294), (-6.089429848, 5.175))
            Line((-6.089429848, 5.175), (-6.525, 5.175))
            Line((-6.525, 5.175), (-6.525, 2.389429848))
            ThreePointArc((-6.525, 2.389429848), (-3.7, 3.7), (-0.875, 2.389429848))
        make_face()
        with BuildLine():
            ThreePointArc((-6.089429848, 5.175), (-6.31629509, 5.38370491), (-6.525, 5.610570152))
            Line((-6.525, 5.610570152), (-6.525, 5.175))
            Line((-6.525, 5.175), (-6.089429848, 5.175))
        make_face()
    cut_extrude_7 = extrude(amount=-CUT_EXTRUDE_7_DEPTH, mode=Mode.SUBTRACT)

    # 阵列(线性)7: 切除-拉伸6, 切除-拉伸7 ×2
    with Locations(*[(0, 0, -i * PATTERN_LINEAR_7_PITCH) for i in range(1, PATTERN_LINEAR_7_COUNT)]):
        add(cut_extrude_6, mode=Mode.SUBTRACT)
        add(cut_extrude_7, mode=Mode.SUBTRACT)

    # 圆角2
    fillet_2_edges = [part.edges().sort_by_distance(p)[0] for p in [
        (-6.525, 1, 5.175),
        (-6.525, 6.8, 5.175),
        (-6.525, 1, -5.175),
        (-6.525, 6.8, -5.175),
    ]]
    fillet(fillet_2_edges, radius=FILLET_2_R)

    # 圆角3
    fillet_3_edges = [part.edges().sort_by_distance(p)[0] for p in [
        (0, 3.9, 11.7),
        (-23.4, 3.9, 11.7),
        (-23.4, 3.9, 4.3),
        (0, 3.9, -11.7),
        (-23.4, 3.9, -11.7),
        (-23.4, 3.9, -4.3),
    ]]
    fillet(fillet_3_edges, radius=FILLET_3_R)

    # 阵列(线性)8: 切除-拉伸4, 切除-拉伸5 ×2
    with Locations(*[(-i * PATTERN_LINEAR_8_PITCH, 0, 0) for i in range(1, PATTERN_LINEAR_8_COUNT)]):
        add(cut_extrude_4, mode=Mode.SUBTRACT)
        add(cut_extrude_5, mode=Mode.SUBTRACT)

    # 阵列(线性)8 copy 1 sketch → 阵列(线性)8 copy 1 (cut)
    with BuildSketch(Plane(origin=(-8, 0, -16), x_dir=(1, 0, 0), z_dir=(0, -1, 0))):
        with BuildLine():
            ThreePointArc((-6.525, 5.610570152), (-7.387158706, 8.307994608), (-6.089429848, 10.825))
            Line((-6.089429848, 10.825), (-9.310570152, 10.825))
            ThreePointArc((-9.310570152, 10.825), (-8.343596386, 9.557098192), (-8, 8))
            ThreePointArc((-8, 8), (-8.343596386, 6.442901808), (-9.310570152, 5.175))
            Line((-9.310570152, 5.175), (-6.525, 5.175))
            Line((-6.525, 5.175), (-6.525, 5.610570152))
        make_face()
        with BuildLine():
            ThreePointArc((-6.089429848, 5.175), (-6.31629509, 5.38370491), (-6.525, 5.610570152))
            Line((-6.525, 5.610570152), (-6.525, 5.175))
            Line((-6.525, 5.175), (-6.089429848, 5.175))
        make_face()
    extrude(amount=-PATTERN_LINEAR_8_COPY_1_DEPTH, mode=Mode.SUBTRACT)

    # 阵列(线性)8 copy 2 sketch → 阵列(线性)8 copy 2 (cut)
    with BuildSketch(Plane(origin=(-8, 0, -16), x_dir=(1, 0, 0), z_dir=(0, -1, 0)).offset(PATTERN_START_2)):
        with BuildLine():
            ThreePointArc((-6.525, 5.610570152), (-7.387158706, 8.307994608), (-6.089429848, 10.825))
            Line((-6.089429848, 10.825), (-9.310570152, 10.825))
            ThreePointArc((-9.310570152, 10.825), (-8.343596386, 9.557098192), (-8, 8))
            ThreePointArc((-8, 8), (-8.343596386, 6.442901808), (-9.310570152, 5.175))
            Line((-9.310570152, 5.175), (-6.525, 5.175))
            Line((-6.525, 5.175), (-6.525, 5.610570152))
        make_face()
        with BuildLine():
            ThreePointArc((-6.089429848, 5.175), (-6.31629509, 5.38370491), (-6.525, 5.610570152))
            Line((-6.525, 5.610570152), (-6.525, 5.175))
            Line((-6.525, 5.175), (-6.089429848, 5.175))
        make_face()
    extrude(amount=-PATTERN_LINEAR_8_COPY_2_DEPTH, mode=Mode.SUBTRACT)


solid = part.part
